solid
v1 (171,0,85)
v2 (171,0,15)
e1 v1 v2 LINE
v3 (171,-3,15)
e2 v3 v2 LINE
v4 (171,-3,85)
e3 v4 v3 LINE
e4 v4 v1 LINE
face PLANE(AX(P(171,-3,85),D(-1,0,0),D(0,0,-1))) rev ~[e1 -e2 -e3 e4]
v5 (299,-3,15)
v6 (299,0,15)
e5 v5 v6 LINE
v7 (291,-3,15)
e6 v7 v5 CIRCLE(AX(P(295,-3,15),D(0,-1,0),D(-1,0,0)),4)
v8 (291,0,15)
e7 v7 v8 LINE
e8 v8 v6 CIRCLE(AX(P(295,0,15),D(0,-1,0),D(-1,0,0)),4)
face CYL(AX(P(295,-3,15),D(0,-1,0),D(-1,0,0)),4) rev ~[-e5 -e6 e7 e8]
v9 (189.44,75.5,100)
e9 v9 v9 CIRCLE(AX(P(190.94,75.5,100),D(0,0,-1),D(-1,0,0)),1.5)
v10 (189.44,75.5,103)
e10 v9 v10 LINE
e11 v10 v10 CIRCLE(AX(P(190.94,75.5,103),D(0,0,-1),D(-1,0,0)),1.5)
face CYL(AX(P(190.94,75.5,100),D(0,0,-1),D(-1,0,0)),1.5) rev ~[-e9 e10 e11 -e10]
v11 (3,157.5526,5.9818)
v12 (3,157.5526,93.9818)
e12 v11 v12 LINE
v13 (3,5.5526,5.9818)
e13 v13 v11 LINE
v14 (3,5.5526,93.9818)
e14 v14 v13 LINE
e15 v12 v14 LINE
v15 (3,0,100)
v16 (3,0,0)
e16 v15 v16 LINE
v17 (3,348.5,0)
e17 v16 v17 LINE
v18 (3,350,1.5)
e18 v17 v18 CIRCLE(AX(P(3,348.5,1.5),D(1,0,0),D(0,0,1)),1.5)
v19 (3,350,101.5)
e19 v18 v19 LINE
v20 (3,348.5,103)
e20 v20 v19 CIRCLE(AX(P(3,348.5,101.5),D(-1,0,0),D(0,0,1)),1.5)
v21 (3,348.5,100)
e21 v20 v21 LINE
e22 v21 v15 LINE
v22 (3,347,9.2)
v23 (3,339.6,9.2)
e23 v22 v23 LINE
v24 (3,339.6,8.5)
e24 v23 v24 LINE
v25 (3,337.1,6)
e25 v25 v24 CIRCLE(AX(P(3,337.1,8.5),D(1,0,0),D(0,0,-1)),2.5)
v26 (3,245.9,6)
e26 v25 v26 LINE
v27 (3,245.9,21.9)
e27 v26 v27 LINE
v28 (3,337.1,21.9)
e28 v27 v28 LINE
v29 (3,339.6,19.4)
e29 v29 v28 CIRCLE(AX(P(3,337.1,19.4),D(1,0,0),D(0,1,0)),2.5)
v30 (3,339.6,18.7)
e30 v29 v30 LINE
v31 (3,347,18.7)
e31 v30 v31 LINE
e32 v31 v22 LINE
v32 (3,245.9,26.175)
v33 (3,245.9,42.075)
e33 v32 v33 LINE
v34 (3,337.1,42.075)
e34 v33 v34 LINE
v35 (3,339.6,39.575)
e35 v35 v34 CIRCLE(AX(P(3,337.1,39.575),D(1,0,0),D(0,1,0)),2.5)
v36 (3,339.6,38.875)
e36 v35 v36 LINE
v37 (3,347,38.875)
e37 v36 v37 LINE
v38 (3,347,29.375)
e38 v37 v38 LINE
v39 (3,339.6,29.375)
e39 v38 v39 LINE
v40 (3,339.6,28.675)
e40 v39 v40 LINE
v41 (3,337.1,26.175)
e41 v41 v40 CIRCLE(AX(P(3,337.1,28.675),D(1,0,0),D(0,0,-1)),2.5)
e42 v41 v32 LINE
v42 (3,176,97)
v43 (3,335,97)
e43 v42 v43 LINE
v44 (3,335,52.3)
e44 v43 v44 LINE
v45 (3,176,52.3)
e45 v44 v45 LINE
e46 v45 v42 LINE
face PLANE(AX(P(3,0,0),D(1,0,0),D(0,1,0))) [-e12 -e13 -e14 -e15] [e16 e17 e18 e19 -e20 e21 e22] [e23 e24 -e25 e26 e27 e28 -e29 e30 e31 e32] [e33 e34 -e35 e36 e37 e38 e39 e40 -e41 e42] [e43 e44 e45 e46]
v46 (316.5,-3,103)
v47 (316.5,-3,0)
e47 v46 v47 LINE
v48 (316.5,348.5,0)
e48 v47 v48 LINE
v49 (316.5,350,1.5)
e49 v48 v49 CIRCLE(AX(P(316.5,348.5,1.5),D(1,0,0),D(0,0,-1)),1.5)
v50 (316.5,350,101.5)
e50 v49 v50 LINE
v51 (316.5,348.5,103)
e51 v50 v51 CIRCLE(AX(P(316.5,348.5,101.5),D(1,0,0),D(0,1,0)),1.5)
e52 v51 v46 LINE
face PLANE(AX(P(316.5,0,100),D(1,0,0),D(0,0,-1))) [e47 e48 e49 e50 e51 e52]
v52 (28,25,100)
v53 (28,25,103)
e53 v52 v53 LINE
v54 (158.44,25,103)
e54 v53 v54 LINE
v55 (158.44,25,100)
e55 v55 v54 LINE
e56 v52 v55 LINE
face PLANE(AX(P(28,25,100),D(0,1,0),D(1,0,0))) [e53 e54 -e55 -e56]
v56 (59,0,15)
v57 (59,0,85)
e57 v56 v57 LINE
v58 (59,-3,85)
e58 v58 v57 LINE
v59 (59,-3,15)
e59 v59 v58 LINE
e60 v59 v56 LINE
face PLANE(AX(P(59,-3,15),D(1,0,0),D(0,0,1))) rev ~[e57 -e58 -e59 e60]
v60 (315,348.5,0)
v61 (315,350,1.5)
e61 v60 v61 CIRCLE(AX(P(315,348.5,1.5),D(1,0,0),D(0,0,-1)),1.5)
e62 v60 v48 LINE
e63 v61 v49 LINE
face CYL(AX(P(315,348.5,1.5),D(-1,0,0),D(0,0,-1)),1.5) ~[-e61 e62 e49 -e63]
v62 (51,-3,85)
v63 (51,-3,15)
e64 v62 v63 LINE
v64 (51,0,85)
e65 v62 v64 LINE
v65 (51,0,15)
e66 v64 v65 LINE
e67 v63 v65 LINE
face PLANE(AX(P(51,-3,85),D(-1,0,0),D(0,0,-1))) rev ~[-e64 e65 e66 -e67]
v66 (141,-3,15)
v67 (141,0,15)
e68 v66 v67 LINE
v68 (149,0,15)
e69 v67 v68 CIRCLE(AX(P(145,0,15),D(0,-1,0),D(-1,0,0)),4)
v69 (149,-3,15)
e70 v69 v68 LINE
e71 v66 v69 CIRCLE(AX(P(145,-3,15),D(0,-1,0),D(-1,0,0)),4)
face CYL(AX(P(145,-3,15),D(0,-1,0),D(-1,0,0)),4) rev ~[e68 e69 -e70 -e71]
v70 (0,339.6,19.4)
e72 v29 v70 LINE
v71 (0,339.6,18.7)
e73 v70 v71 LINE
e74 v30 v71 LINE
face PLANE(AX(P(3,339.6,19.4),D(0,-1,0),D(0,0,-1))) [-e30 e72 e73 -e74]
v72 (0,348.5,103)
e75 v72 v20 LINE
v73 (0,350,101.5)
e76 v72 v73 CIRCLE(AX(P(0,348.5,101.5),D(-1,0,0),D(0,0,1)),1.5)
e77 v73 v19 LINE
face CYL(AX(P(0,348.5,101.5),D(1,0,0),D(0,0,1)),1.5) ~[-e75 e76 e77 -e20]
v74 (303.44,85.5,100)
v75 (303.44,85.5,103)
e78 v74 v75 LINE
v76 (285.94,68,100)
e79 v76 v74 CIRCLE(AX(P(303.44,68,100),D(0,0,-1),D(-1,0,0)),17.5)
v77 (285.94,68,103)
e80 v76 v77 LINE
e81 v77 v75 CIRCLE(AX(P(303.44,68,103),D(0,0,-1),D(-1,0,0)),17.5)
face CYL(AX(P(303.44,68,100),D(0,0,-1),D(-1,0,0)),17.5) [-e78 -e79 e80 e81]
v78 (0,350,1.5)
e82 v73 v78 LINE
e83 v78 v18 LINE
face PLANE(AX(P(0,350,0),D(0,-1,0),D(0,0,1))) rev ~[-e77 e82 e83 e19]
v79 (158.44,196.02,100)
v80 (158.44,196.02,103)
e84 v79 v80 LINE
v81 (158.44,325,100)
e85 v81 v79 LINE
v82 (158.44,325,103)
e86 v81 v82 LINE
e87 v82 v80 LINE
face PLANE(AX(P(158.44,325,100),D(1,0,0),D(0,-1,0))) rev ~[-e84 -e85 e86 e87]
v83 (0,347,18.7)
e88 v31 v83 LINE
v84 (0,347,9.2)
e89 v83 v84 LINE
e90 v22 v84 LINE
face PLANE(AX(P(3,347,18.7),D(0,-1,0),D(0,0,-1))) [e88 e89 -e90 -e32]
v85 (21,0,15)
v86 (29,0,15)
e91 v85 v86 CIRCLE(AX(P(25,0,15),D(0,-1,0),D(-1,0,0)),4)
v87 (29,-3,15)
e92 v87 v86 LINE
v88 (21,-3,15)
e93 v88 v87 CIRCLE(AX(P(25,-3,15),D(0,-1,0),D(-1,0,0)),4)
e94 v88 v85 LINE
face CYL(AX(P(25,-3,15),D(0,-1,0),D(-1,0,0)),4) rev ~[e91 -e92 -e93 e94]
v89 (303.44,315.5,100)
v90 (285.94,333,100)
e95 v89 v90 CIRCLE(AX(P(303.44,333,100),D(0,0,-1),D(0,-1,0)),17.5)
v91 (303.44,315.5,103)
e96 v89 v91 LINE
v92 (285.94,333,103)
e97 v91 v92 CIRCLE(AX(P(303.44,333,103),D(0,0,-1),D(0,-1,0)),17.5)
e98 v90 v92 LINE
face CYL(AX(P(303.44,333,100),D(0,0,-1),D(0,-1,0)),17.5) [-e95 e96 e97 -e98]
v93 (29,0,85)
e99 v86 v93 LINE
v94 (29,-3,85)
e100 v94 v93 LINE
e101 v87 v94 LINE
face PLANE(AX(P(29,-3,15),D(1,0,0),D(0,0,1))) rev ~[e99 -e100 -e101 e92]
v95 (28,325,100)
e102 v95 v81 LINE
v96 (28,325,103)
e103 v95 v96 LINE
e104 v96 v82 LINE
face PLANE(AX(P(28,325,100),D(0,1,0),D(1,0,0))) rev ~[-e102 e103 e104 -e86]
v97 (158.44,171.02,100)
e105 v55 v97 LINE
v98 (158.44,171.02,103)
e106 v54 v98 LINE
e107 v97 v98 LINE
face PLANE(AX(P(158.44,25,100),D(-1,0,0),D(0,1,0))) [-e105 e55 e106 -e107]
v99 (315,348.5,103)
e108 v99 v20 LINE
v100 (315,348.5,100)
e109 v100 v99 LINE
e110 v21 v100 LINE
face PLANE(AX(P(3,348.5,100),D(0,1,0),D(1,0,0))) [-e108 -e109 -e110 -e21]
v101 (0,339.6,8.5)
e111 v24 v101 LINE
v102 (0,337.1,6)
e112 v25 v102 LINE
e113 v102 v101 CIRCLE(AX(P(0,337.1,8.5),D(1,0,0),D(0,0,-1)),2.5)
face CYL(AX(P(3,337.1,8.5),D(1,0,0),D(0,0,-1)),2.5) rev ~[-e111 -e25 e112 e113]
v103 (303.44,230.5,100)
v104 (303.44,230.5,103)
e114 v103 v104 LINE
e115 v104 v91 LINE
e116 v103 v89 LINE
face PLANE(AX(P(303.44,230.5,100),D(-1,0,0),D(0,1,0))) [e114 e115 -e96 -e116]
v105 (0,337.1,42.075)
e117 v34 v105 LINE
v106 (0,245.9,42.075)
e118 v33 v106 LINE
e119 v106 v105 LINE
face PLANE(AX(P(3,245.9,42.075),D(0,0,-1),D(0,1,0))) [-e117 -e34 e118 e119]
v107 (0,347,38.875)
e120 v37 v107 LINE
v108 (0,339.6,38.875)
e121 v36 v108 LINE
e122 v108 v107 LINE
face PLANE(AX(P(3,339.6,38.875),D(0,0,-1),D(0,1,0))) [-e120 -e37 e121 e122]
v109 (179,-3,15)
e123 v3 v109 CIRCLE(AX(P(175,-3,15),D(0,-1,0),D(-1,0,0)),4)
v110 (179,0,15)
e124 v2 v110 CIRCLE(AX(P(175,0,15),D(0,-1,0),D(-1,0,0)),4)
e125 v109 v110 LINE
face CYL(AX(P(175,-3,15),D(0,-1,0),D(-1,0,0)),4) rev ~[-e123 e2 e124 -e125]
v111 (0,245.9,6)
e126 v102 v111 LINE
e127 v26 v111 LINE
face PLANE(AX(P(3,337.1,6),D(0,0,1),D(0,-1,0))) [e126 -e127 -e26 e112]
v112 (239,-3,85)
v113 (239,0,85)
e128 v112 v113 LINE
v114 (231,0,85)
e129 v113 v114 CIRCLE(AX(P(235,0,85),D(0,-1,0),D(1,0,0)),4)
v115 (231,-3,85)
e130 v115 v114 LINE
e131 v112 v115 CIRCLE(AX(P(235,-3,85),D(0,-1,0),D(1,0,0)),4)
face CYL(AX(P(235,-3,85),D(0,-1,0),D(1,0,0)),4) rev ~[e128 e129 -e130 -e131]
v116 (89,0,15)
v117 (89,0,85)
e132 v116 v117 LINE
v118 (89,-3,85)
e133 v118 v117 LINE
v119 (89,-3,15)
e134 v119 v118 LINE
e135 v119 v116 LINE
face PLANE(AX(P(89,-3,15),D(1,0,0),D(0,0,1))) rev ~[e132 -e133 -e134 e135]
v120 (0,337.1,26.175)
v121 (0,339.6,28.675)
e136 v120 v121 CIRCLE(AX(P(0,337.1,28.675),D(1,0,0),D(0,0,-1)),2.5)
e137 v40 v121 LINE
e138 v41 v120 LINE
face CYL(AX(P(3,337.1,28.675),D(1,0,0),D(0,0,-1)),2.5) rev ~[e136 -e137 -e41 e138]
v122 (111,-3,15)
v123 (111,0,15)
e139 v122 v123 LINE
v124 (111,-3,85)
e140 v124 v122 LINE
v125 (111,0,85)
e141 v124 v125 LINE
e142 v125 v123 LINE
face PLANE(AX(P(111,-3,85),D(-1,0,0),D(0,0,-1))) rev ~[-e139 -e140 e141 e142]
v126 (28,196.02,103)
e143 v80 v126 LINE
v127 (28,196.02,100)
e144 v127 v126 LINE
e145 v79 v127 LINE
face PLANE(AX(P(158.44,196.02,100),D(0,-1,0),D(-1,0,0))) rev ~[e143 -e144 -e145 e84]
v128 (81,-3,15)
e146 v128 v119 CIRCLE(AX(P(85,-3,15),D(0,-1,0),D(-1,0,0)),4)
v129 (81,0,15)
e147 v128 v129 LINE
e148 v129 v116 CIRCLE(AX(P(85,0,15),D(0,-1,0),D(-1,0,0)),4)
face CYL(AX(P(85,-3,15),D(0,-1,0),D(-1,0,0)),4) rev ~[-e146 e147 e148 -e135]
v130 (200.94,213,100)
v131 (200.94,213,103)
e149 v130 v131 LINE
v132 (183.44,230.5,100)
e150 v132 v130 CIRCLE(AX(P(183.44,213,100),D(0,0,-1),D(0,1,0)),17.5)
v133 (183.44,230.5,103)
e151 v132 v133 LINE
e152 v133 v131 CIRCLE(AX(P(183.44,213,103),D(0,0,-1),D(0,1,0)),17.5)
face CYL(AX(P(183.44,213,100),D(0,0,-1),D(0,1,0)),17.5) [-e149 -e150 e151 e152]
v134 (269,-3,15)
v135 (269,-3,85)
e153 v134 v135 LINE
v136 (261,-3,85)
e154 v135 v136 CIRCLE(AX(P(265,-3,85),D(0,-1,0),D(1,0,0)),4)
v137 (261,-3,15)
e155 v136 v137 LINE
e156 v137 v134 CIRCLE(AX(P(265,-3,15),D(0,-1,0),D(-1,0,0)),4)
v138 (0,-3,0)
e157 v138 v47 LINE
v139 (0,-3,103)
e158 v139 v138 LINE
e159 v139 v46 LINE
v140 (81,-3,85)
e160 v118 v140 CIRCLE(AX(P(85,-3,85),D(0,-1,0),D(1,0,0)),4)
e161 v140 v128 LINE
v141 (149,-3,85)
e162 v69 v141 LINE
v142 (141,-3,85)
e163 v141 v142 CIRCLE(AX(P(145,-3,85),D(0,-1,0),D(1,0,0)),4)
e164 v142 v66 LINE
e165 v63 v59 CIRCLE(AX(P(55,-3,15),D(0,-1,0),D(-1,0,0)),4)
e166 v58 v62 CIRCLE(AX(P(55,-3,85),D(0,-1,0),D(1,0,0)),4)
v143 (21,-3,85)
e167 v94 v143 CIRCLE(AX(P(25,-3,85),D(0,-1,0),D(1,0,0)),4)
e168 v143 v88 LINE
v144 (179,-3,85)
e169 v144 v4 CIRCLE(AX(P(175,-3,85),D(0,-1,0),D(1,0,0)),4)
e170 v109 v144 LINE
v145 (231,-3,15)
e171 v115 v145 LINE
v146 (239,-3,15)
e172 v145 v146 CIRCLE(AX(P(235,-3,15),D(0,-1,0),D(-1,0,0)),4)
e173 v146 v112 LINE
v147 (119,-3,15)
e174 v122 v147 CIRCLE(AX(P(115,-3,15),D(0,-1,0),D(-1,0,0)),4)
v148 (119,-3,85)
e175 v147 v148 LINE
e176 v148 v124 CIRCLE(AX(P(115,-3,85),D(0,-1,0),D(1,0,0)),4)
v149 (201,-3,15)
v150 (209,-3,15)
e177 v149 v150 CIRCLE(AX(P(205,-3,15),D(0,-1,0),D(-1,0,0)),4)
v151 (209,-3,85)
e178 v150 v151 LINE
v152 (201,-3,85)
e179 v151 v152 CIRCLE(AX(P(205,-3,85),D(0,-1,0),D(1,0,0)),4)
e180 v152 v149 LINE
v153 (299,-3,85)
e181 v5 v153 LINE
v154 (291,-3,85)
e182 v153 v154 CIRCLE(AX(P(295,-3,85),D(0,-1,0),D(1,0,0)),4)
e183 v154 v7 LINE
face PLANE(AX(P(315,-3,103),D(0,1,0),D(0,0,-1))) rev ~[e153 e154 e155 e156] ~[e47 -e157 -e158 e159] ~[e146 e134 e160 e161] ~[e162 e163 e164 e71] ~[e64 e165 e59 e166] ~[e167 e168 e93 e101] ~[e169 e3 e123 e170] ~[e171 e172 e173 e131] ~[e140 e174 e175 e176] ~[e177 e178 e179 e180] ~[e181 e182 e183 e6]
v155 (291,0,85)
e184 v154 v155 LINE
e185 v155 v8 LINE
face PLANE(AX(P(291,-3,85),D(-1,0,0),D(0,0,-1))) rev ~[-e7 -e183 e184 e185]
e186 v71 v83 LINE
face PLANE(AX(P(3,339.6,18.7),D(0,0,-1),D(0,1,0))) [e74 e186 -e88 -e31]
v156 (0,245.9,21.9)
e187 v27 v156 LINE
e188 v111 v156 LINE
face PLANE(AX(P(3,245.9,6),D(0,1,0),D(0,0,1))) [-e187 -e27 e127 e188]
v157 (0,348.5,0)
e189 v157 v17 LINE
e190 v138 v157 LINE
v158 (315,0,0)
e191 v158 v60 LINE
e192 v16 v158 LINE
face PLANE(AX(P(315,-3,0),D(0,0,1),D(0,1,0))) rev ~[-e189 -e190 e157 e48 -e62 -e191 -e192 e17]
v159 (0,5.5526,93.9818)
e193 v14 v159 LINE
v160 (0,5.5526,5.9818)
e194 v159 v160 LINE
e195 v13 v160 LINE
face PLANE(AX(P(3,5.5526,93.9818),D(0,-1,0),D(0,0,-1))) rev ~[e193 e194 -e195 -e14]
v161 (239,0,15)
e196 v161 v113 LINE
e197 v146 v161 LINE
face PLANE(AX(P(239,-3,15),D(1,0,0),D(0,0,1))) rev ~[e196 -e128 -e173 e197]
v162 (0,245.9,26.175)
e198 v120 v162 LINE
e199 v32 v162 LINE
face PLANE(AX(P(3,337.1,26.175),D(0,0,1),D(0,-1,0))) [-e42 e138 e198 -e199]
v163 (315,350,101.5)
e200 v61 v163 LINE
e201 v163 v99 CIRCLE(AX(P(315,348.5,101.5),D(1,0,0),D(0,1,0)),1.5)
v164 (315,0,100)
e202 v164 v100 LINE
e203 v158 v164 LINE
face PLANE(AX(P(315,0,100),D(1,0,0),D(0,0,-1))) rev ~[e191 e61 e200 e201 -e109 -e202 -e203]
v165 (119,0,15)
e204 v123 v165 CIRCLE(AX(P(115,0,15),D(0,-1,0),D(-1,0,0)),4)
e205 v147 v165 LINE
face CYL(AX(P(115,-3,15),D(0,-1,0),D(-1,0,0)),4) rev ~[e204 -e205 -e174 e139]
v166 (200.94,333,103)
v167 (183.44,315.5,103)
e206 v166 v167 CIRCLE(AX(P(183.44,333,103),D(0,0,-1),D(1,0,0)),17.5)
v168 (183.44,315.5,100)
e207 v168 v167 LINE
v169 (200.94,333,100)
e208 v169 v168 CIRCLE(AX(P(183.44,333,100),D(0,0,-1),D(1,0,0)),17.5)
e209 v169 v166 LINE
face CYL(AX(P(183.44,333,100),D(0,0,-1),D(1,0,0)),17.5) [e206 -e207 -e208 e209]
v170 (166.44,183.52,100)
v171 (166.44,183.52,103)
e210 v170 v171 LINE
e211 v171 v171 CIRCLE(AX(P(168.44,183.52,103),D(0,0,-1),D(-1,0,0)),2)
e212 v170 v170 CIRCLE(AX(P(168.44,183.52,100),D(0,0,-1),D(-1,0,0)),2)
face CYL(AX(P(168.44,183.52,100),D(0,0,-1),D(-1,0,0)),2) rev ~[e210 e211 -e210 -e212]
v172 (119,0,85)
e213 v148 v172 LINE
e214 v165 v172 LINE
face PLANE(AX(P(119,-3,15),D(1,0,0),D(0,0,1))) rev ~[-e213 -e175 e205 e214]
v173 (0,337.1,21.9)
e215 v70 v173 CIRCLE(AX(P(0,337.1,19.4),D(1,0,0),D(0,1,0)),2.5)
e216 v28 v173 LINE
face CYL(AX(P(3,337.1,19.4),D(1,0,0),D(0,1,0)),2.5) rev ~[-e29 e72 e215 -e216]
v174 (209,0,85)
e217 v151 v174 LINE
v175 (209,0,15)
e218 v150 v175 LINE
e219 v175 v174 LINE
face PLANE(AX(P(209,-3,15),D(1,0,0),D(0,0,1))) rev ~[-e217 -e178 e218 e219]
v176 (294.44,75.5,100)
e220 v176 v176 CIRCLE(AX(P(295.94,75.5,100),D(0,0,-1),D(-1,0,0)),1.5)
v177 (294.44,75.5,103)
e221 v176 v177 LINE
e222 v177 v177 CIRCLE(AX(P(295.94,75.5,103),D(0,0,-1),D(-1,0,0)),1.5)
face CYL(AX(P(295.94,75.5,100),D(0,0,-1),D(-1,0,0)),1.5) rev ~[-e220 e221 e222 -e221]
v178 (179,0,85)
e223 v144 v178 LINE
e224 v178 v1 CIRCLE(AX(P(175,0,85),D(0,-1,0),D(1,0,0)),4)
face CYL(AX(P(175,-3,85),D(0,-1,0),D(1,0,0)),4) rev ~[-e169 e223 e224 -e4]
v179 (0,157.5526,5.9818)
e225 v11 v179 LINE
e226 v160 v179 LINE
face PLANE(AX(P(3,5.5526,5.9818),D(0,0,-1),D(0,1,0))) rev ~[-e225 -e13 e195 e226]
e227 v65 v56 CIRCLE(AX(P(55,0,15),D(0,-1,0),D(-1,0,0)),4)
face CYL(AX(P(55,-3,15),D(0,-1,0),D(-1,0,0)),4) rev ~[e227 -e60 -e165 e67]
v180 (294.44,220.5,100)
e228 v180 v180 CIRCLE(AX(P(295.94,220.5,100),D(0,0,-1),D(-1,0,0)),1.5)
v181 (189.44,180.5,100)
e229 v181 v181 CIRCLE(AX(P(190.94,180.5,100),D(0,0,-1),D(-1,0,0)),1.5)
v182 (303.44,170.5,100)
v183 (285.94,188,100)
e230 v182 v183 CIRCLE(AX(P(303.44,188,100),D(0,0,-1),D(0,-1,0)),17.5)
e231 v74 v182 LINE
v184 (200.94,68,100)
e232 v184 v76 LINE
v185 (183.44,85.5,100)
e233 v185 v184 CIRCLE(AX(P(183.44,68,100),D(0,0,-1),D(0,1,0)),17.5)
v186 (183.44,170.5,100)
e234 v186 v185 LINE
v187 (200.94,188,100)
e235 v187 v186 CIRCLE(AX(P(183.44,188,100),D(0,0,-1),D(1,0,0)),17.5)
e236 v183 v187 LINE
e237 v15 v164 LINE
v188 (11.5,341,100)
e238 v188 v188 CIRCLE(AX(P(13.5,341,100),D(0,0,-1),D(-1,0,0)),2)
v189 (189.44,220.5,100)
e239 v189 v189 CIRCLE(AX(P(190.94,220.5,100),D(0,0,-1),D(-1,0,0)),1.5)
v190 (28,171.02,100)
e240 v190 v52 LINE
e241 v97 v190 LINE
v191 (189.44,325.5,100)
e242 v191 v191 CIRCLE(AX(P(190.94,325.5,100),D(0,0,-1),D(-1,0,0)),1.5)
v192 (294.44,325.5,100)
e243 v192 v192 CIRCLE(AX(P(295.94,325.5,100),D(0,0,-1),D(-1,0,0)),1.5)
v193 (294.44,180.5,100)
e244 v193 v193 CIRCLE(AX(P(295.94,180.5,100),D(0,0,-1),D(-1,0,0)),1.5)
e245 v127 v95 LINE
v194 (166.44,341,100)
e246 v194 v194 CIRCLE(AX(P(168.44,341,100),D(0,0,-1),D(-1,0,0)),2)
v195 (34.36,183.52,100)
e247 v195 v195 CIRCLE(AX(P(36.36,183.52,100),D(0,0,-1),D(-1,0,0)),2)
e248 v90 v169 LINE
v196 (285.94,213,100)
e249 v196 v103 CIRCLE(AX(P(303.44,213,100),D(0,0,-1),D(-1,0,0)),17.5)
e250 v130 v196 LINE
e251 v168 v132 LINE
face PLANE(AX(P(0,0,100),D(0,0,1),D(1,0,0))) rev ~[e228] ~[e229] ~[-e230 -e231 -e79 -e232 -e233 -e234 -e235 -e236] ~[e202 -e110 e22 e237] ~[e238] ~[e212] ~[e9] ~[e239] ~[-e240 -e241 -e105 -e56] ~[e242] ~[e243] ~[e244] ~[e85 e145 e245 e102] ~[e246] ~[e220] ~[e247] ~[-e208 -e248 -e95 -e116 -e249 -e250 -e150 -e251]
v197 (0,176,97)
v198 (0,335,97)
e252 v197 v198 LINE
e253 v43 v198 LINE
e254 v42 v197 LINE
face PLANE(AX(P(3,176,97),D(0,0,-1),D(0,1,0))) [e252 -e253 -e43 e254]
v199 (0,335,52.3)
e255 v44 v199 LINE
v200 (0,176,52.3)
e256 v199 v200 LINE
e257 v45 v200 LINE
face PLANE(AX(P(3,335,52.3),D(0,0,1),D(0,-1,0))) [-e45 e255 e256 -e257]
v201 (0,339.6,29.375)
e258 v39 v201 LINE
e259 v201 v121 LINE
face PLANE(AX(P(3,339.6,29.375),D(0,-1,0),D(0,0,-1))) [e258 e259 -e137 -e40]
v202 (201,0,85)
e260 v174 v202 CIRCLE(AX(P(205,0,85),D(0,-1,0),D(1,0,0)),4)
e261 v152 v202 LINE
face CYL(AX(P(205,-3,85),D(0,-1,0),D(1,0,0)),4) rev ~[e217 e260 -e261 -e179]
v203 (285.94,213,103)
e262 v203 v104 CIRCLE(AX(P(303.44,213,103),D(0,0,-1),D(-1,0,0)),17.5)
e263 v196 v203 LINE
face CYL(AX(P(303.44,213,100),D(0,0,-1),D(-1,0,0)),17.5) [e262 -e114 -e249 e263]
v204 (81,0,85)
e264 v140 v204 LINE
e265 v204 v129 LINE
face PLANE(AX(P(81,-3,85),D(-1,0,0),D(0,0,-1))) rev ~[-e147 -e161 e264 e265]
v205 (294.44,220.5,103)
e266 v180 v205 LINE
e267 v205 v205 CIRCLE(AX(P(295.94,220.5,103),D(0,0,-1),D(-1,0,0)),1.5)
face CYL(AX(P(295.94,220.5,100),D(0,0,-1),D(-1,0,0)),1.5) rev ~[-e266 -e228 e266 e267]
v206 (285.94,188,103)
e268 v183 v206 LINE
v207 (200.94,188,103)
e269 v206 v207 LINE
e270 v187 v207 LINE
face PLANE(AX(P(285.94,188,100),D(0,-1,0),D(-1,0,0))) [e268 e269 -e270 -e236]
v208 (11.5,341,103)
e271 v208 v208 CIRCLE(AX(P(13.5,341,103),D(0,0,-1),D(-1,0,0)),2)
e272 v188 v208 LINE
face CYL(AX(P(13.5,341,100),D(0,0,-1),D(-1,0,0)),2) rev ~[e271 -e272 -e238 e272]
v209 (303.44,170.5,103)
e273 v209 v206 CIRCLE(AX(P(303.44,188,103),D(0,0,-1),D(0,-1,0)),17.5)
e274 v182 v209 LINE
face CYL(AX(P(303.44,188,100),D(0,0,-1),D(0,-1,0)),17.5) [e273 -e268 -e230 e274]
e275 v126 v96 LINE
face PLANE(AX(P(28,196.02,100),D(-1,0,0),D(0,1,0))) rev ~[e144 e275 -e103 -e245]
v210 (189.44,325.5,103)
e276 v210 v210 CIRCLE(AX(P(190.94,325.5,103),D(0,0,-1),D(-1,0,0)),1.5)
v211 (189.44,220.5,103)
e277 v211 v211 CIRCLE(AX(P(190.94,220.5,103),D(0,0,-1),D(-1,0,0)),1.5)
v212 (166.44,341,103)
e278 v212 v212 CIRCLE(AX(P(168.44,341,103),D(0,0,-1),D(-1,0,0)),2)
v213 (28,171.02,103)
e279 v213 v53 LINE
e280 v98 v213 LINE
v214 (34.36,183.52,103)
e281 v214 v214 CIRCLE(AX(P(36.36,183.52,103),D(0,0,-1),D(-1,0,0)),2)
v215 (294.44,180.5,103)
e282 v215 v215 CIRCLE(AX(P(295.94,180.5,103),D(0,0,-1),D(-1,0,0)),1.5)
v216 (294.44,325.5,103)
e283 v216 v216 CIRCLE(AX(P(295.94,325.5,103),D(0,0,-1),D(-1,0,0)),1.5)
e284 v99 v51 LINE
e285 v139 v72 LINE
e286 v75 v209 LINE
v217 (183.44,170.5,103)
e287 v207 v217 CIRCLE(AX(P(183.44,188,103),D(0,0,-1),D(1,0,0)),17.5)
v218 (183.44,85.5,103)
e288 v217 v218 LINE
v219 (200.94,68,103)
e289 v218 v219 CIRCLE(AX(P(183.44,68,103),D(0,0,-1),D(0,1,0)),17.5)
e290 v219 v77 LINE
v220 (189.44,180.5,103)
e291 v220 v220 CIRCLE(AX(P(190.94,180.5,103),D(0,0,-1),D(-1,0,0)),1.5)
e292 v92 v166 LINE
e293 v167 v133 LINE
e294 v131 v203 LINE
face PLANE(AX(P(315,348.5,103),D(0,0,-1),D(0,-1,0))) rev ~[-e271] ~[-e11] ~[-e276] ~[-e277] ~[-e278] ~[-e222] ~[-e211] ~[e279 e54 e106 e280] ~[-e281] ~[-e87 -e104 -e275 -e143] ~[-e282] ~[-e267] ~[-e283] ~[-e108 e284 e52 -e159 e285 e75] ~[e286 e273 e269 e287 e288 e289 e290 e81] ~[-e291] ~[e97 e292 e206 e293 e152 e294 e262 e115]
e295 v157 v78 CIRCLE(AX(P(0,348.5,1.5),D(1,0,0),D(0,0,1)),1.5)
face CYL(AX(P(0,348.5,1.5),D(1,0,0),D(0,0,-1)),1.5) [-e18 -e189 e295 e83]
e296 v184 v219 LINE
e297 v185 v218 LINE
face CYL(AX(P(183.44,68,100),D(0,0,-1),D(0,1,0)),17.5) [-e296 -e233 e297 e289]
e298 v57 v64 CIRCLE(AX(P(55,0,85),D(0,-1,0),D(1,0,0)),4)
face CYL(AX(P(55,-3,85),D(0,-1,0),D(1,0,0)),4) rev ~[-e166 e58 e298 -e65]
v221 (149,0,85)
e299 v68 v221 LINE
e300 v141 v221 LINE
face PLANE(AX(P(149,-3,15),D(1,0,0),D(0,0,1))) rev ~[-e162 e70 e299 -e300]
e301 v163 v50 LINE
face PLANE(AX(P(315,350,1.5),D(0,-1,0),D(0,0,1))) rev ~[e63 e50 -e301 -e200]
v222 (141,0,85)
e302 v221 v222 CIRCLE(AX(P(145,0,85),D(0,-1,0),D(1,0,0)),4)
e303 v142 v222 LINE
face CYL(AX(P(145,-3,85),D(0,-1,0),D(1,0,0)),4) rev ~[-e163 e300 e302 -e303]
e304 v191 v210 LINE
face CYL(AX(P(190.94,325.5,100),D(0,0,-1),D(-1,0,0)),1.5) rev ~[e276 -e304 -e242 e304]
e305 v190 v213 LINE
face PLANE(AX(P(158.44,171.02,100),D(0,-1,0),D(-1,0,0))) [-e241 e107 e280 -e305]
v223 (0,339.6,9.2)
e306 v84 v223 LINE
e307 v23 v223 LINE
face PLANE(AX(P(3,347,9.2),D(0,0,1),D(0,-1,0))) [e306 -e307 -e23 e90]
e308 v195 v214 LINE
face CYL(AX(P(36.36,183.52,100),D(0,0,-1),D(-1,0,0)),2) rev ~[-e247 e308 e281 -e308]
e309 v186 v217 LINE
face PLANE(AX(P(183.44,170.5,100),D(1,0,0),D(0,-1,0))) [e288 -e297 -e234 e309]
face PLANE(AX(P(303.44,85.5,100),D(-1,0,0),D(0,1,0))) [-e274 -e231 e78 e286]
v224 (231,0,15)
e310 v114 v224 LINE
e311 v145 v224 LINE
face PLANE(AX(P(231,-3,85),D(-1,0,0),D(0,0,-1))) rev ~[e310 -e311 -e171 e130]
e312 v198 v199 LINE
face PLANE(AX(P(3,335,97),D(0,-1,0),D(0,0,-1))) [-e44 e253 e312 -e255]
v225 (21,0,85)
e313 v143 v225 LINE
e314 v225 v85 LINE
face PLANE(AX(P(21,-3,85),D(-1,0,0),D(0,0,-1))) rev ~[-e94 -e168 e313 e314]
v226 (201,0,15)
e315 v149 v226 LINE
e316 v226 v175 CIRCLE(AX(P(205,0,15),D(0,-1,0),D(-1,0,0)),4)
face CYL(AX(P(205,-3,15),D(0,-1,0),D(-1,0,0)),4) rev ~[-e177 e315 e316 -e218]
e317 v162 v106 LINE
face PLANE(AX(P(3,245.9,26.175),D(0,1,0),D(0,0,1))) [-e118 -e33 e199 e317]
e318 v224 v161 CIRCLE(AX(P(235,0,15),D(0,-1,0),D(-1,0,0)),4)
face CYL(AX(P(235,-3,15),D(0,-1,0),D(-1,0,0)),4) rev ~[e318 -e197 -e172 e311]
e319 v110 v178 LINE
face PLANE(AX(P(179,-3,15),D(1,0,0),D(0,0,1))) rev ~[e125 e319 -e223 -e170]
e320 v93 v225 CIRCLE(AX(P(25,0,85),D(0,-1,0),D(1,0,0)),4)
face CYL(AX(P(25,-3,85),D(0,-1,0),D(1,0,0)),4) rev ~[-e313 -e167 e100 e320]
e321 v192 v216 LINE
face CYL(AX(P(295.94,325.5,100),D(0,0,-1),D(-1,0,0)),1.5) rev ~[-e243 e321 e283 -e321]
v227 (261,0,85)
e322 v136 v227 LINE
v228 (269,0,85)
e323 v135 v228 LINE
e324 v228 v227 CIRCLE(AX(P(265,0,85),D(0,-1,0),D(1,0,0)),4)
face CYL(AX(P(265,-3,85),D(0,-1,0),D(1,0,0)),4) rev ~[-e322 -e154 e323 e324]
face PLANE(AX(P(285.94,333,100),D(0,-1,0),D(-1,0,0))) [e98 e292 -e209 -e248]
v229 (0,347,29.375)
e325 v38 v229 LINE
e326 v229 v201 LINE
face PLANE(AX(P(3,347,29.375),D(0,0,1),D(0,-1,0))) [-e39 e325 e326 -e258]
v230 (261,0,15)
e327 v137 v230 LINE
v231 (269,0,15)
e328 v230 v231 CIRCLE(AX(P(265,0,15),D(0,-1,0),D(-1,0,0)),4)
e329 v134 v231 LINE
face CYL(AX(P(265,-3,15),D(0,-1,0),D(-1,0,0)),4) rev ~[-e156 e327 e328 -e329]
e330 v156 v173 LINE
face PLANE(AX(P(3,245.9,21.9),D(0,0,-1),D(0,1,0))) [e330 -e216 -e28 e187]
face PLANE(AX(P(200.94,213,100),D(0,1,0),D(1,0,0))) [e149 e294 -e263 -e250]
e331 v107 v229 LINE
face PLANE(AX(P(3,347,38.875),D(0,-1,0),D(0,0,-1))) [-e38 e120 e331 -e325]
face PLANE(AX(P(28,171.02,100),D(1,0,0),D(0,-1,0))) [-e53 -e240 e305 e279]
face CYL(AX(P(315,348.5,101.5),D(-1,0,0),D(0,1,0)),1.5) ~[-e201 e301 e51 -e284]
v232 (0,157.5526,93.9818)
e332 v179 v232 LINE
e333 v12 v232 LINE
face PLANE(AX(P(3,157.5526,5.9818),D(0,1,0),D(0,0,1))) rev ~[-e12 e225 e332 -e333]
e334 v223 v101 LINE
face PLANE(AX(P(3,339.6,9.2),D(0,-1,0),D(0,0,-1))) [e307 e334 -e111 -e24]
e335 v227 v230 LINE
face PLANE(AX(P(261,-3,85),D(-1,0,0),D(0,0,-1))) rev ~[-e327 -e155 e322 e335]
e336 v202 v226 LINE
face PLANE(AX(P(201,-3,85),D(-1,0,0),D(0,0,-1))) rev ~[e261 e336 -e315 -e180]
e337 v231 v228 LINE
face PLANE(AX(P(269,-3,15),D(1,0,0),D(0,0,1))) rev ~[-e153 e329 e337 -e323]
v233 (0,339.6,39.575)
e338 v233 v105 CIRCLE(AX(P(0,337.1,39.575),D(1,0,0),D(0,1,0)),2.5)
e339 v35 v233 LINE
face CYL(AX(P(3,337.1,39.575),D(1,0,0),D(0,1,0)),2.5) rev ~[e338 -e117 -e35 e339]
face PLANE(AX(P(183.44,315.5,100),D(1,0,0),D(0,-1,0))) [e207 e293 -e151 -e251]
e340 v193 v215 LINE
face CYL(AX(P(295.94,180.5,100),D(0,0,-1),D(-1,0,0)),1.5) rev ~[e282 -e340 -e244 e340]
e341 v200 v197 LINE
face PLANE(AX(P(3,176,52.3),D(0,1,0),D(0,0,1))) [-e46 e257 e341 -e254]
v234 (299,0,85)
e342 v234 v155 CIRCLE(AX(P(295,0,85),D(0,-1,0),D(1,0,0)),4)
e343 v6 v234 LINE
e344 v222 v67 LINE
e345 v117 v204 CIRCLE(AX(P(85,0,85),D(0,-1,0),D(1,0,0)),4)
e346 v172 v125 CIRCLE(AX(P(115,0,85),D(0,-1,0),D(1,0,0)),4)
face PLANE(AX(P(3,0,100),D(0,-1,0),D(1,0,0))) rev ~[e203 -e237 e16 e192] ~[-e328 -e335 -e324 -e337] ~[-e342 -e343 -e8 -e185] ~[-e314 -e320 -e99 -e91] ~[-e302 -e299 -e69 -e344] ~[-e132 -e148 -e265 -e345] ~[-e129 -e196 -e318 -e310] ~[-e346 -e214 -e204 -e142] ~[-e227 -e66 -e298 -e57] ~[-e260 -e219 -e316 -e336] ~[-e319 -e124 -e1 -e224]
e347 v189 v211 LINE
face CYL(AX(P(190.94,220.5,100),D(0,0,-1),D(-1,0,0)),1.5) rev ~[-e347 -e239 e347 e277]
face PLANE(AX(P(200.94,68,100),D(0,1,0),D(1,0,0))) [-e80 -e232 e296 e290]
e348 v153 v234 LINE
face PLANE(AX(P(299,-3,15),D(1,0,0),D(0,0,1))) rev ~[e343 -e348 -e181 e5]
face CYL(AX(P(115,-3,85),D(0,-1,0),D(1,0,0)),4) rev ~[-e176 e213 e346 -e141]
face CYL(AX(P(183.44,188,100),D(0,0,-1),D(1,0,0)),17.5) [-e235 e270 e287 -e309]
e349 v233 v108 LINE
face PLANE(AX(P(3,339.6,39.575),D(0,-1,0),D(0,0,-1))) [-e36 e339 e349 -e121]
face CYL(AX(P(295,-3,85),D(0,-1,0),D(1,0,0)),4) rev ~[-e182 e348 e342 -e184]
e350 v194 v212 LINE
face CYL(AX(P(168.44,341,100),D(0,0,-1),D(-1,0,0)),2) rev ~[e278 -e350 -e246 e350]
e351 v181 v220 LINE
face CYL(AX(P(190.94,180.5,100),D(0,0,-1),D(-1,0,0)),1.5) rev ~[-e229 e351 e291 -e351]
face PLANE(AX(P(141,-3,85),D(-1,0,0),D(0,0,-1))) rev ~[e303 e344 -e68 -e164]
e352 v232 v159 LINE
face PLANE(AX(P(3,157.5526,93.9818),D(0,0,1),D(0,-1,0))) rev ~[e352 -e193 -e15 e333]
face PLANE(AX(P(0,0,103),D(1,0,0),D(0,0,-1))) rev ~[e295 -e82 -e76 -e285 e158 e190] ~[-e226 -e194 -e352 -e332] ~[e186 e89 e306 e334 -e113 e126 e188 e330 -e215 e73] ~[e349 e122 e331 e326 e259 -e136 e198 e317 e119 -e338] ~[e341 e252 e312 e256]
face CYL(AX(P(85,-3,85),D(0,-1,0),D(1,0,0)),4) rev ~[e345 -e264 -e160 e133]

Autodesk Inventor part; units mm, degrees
ref_plane "YZ Plane" through (0, 0, 0) normal (1, 0, 0) x (0, 1, 0)
ref_plane "XZ Plane" through (0, 0, 0) normal (0, 1, 0) x (-1, 0, 0)
ref_plane "XY Plane" through (0, 0, 0) normal (0, 0, 1) x (1, 0, 0)
sketch "Sketch1" plane through (0, 0, 0) normal (1, 0, 0) x (0, 1, 0)
  line L0 (0, 0) -> (350, 0)
  line L1 (350, 0) -> (350, 100)
  line L2 (350, 100) -> (0, 100)
  line L3 (0, 100) -> (0, 0)
  dimension "d0" = 100
  dimension "d1" = 350
extrude "Extrusion1" add sketch "Sketch1" along normal blind 3
sketch "Sketch2" plane through (3, 0, 0) normal (1, 0, 0) x (0, 0, -1)
  line L0 (-97, 335) -> (-52.3, 335)
  line L1 (-52.3, 335) -> (-52.3, 176)
  line L2 (-52.3, 176) -> (-97, 176)
  line L3 (-97, 176) -> (-97, 335)
  line L4 (-6, 337.1) -> (-6, 245.9)
  line L5 (-6, 245.9) -> (-21.9, 245.9)
  line L6 (-21.9, 245.9) -> (-21.9, 337.1)
  line L7 (-18.7, 339.6) -> (-18.7, 347)
  line L8 (-18.7, 347) -> (-9.2, 347)
  line L9 (-9.2, 347) -> (-9.2, 339.6)
  line L10 (-19.4, 339.6) -> (-18.7, 339.6)
  line L11 (-9.2, 339.6) -> (-8.5, 339.6)
  arc A0 (-19.4, 339.6) -> (-21.9, 337.1) centre (-19.4, 337.1) ccw
  arc A1 (-6, 337.1) -> (-8.5, 339.6) centre (-8.5, 337.1) ccw
  line L12 (-93.9818, 5.5526) -> (-5.9818, 5.5526)
  line L13 (-5.9818, 5.5526) -> (-5.9818, 157.5526)
  line L14 (-5.9818, 157.5526) -> (-93.9818, 157.5526)
  line L15 (-93.9818, 157.5526) -> (-93.9818, 5.5526)
  line L16 (-26.175, 337.1) -> (-26.175, 245.9)
  line L17 (-26.175, 245.9) -> (-42.075, 245.9)
  line L18 (-42.075, 245.9) -> (-42.075, 337.1)
  line L19 (-38.875, 339.6) -> (-38.875, 347)
  line L20 (-38.875, 347) -> (-29.375, 347)
  line L21 (-29.375, 347) -> (-29.375, 339.6)
  line L22 (-39.575, 339.6) -> (-38.875, 339.6)
  line L23 (-29.375, 339.6) -> (-28.675, 339.6)
  arc A2 (-39.575, 339.6) -> (-42.075, 337.1) centre (-39.575, 337.1) ccw
  arc A3 (-26.175, 337.1) -> (-28.675, 339.6) centre (-28.675, 337.1) ccw
  line L24 (0, 350) -> (-100, 350) projected
  line L25 (0, 0) -> (0, 350) projected
  line L26 (-100, 350) -> (-100, 0) projected
  point P0 (-55.4956, 335.3765)
  dimension "d4" = 2.5
  dimension "d5" = 9.5
  dimension "d6" = 15.9
  dimension "d7" = 93.7
  dimension "d8" = 101.1
  dimension "d9" = 44.7
  dimension "d10" = 159
  dimension "d11" = 88
  dimension "d12" = 152
  dimension "d15" = 2.5
  dimension "d16" = 9.5
  dimension "d17" = 15.9
  dimension "d18" = 93.7
  dimension "d19" = 101.1
  dimension "d21" = 3
  dimension "d22" = 6
  dimension "d23" = 15
  dimension "d24" = 3
  dimension "d25" = 20.175
extrude "Extrusion2" cut sketch "Sketch2" against normal through all
sketch "Sketch3" plane through (0, 0, 100) normal (0, 0, 1) x (1, 0, 0)
  line L0 (0, 0) -> (315, 0)
  line L1 (315, 0) -> (315, 350)
  line L2 (0, 350) -> (3, 350) projected
  line L3 (315, 350) -> (3, 350)
  line L4 (3, 350) -> (0, 350)
  line L5 (3, 0) -> (3, 350) projected
  line L6 (0, 350) -> (3, 350)
  line L7 (0, 350) -> (0, 0)
  dimension "d26" = 315
extrude "Extrusion3" add sketch "Sketch3" along normal blind 3
sketch "Sketch4" plane through (3, 0, 100) normal (0, -1, 0) x (1, 0, 0)
  line L0 (312, 0) -> (312, 3) projected
  line L1 (-3, -100) -> (312, -100)
  line L2 (312, -100) -> (312, 3)
  line L3 (312, 3) -> (-3, 3)
  line L4 (-3, 3) -> (-3, -100)
extrude "Extrusion4" add sketch "Sketch4" along normal blind 3
sketch "Sketch5" plane through (0, 0, 100) normal (0, 0, -1) x (-1, 0, 0)
  line L0 (-168.44, 341) -> (-13.5, 341) construction
  line L1 (-13.5, 341) -> (-13.5, 183.52) construction
  line L2 (-13.5, 183.52) -> (-168.44, 183.52) construction
  line L3 (-168.44, 183.52) -> (-168.44, 341) construction
  circle A0 centre (-13.5, 341) radius 2
  circle A1 centre (-168.44, 341) radius 2
  circle A2 centre (-168.44, 183.52) radius 2
  circle A3 centre (-36.36, 183.52) radius 2
  line L4 (-3, 0) -> (-3, 350) projected
  line L5 (-315, 350) -> (-3, 350) projected
  point P0 (0, 0)
  dimension "d31" = 157.48
  dimension "d32" = 154.94
  dimension "d33" = 22.86
  dimension "d34" = 4
  dimension "d35" = 10.5
  dimension "d36" = 9
extrude "Extrusion5" cut sketch "Sketch5" against normal through all
sketch "Sketch6" plane through (0, 0, 100) normal (0, 0, -1) x (-1, 0, 0)
  line L0 (-303.44, 333) -> (-183.44, 333)
  line L1 (-183.44, 333) -> (-183.44, 213)
  line L2 (-183.44, 213) -> (-303.44, 213)
  line L3 (-303.44, 213) -> (-303.44, 333)
  line L4 (-190.94, 325.5) -> (-295.94, 325.5) construction
  line L5 (-295.94, 325.5) -> (-295.94, 220.5) construction
  line L6 (-295.94, 220.5) -> (-190.94, 220.5) construction
  line L7 (-190.94, 220.5) -> (-190.94, 325.5) construction
  circle A0 centre (-295.94, 325.5) radius 1.5
  circle A1 centre (-190.94, 325.5) radius 1.5
  circle A2 centre (-190.94, 220.5) radius 1.5
  circle A3 centre (-295.94, 220.5) radius 1.5
  arc A4 (-303.44, 315.5) -> (-285.94, 333) centre (-303.44, 333) ccw
  arc A5 (-200.94, 333) -> (-183.44, 315.5) centre (-183.44, 333) ccw
  arc A6 (-183.44, 230.5) -> (-200.94, 213) centre (-183.44, 213) ccw
  arc A7 (-285.94, 213) -> (-303.44, 230.5) centre (-303.44, 213) ccw
  circle A8 centre (-168.44, 341) radius 2 projected
  line L8 (-315, 350) -> (-3, 350) projected
  line L9 (-303.44, 188) -> (-183.44, 188)
  line L10 (-183.44, 188) -> (-183.44, 68)
  line L11 (-183.44, 68) -> (-303.44, 68)
  line L12 (-303.44, 68) -> (-303.44, 188)
  line L13 (-190.94, 180.5) -> (-295.94, 180.5) construction
  line L14 (-295.94, 180.5) -> (-295.94, 75.5) construction
  line L15 (-295.94, 75.5) -> (-190.94, 75.5) construction
  line L16 (-190.94, 75.5) -> (-190.94, 180.5) construction
  circle A9 centre (-295.94, 180.5) radius 1.5
  circle A10 centre (-190.94, 180.5) radius 1.5
  circle A11 centre (-190.94, 75.5) radius 1.5
  circle A12 centre (-295.94, 75.5) radius 1.5
  arc A13 (-303.44, 170.5) -> (-285.94, 188) centre (-303.44, 188) ccw
  arc A14 (-200.94, 188) -> (-183.44, 170.5) centre (-183.44, 188) ccw
  arc A15 (-183.44, 85.5) -> (-200.94, 68) centre (-183.44, 68) ccw
  arc A16 (-285.94, 68) -> (-303.44, 85.5) centre (-303.44, 68) ccw
  line L17 (0, -3) -> (0, 350) projected
  point P0 (0, 0)
  point P1 (-329, 351)
  dimension "d39" = 105
  dimension "d40" = 120
  dimension "d41" = 105
  dimension "d42" = 3
  dimension "d43" = 35
  dimension "d46" = 15
  dimension "d47" = 17
  dimension "d48" = 105
  dimension "d49" = 120
  dimension "d50" = 105
  dimension "d51" = 3
  dimension "d52" = 35
  dimension "d53" = 25
  dimension "d63" = 183.44
  dimension "d64" = 265
extrude "Extrusion6" cut sketch "Sketch6" against normal through all contours L0 A5 L1 A6 L2 A7 L3 A4 | A0 | A1 | A2 | A3 | L9 A14 L10 A15 L11 A16 L12 A13 | A9 | A10 | A11 | A12
sketch "Sketch7" plane through (0, 0, 100) normal (0, 0, -1) x (-1, 0, 0)
  line L0 (-28, 325) -> (-158.44, 325)
  line L1 (-158.44, 325) -> (-158.44, 196.02)
  line L2 (-158.44, 196.02) -> (-28, 196.02)
  line L3 (-28, 196.02) -> (-28, 325)
  line L4 (-158.44, 171.02) -> (-28, 171.02)
  line L5 (-28, 171.02) -> (-28, 25)
  line L6 (-28, 25) -> (-158.44, 25)
  line L7 (-158.44, 25) -> (-158.44, 171.02)
  line L8 (-3, 0) -> (-3, 350) projected
  line L9 (-183.44, 315.5) -> (-183.44, 230.5) projected
  line L10 (-183.44, 170.5) -> (-183.44, 85.5) projected
  line L11 (-315, 350) -> (-3, 350) projected
  circle A0 centre (-36.36, 183.52) radius 2 projected
  line L12 (-3, 0) -> (-315, 0) projected
  point P0 (0, 0)
  dimension "d54" = 25
  dimension "d55" = 25
  dimension "d56" = 25
  dimension "d57" = 25
  dimension "d58" = 25
  dimension "d59" = 12.5
  dimension "d60" = 25
extrude "Extrusion7" cut sketch "Sketch7" against normal through all contours L3 L2 L1 L0 | L4 L5 L6 L7
sketch "Sketch8" plane through (3, 350, 100) normal (0, 1, 0) x (1, 0, 0)
  line L0 (0, 100) -> (0, 0) projected
  line L1 (312, 0) -> (312, -3) projected
  line L2 (0, 0) -> (312, 0)
  line L3 (312, 0) -> (312, -3)
  line L4 (312, -3) -> (0, -3)
  line L5 (0, -3) -> (0, 0)
  point P0 (-3, 100)
extrude "Extrusion8" cut sketch "Sketch8" against normal blind 1.5
fillet "Fillet1" radius 1.5 2 edges at (1.5, 350, 103) (1.5, 350, 0)
sketch "Sketch9" plane through (315, 0, 100) normal (1, 0, 0) x (0, 0, -1)
  line L0 (-3, -3) -> (100, -3) projected
  line L1 (-3, -3) -> (100, -3)
  line L2 (100, -3) -> (100, 348.5)
  line L3 (98.5, 350) -> (-1.5, 350)
  line L4 (-3, 348.5) -> (-3, -3)
  line L5 (98.5, 350) -> (-1.5, 350) projected
  line L6 (100, 0) -> (100, 348.5) projected
  arc A0 (100, 348.5) -> (98.5, 350) centre (98.5, 348.5) ccw projected
  arc A1 (-1.5, 350) -> (-3, 348.5) centre (-1.5, 348.5) ccw projected
extrude "Extrusion9" add sketch "Sketch9" along normal blind 1.5
sketch "Sketch10" plane through (3, -3, 100) normal (0, -1, 0) x (1, 0, 0)
  line L0 (292, -85) -> (292, -15) construction
  line L1 (296, -85) -> (296, -15)
  line L2 (288, -15) -> (288, -85)
  arc A0 (288, -85) -> (296, -85) centre (292, -85) ccw
  arc A1 (296, -15) -> (288, -15) centre (292, -15) ccw
  line L3 (-3, -100) -> (313.5, -100) projected
  line L4 (197.94, 0) -> (282.94, 0) projected
  line L5 (312, -100) -> (312, 0) projected
  line L6 (262, -85) -> (262, -15) construction
  line L7 (266, -85) -> (266, -15)
  line L8 (258, -15) -> (258, -85)
  arc A2 (258, -85) -> (266, -85) centre (262, -85) ccw
  arc A3 (266, -15) -> (258, -15) centre (262, -15) ccw
  line L9 (232, -85) -> (232, -15) construction
  line L10 (236, -85) -> (236, -15)
  line L11 (228, -15) -> (228, -85)
  arc A4 (228, -85) -> (236, -85) centre (232, -85) ccw
  arc A5 (236, -15) -> (228, -15) centre (232, -15) ccw
  line L12 (202, -85) -> (202, -15) construction
  line L13 (206, -85) -> (206, -15)
  line L14 (198, -15) -> (198, -85)
  arc A6 (198, -85) -> (206, -85) centre (202, -85) ccw
  arc A7 (206, -15) -> (198, -15) centre (202, -15) ccw
  line L15 (172, -85) -> (172, -15) construction
  line L16 (176, -85) -> (176, -15)
  line L17 (168, -15) -> (168, -85)
  arc A8 (168, -85) -> (176, -85) centre (172, -85) ccw
  arc A9 (176, -15) -> (168, -15) centre (172, -15) ccw
  line L18 (142, -85) -> (142, -15) construction
  line L19 (146, -85) -> (146, -15)
  line L20 (138, -15) -> (138, -85)
  arc A10 (138, -85) -> (146, -85) centre (142, -85) ccw
  arc A11 (146, -15) -> (138, -15) centre (142, -15) ccw
  line L21 (112, -85) -> (112, -15) construction
  line L22 (116, -85) -> (116, -15)
  line L23 (108, -15) -> (108, -85)
  arc A12 (108, -85) -> (116, -85) centre (112, -85) ccw
  arc A13 (116, -15) -> (108, -15) centre (112, -15) ccw
  line L24 (82, -85) -> (82, -15) construction
  line L25 (86, -85) -> (86, -15)
  line L26 (78, -15) -> (78, -85)
  arc A14 (78, -85) -> (86, -85) centre (82, -85) ccw
  arc A15 (86, -15) -> (78, -15) centre (82, -15) ccw
  line L27 (52, -85) -> (52, -15) construction
  line L28 (56, -85) -> (56, -15)
  line L29 (48, -15) -> (48, -85)
  arc A16 (48, -85) -> (56, -85) centre (52, -85) ccw
  arc A17 (56, -15) -> (48, -15) centre (52, -15) ccw
  line L30 (22, -85) -> (22, -15) construction
  line L31 (26, -85) -> (26, -15)
  line L32 (18, -15) -> (18, -85)
  arc A18 (18, -85) -> (26, -85) centre (22, -85) ccw
  arc A19 (26, -15) -> (18, -15) centre (22, -15) ccw
  point P0 (292, -50)
  point P1 (262, -50)
  point P2 (232, -50)
  point P3 (202, -50)
  point P4 (172, -50)
  point P5 (142, -50)
  point P6 (112, -50)
  point P7 (82, -50)
  point P8 (52, -50)
  point P9 (22, -50)
  dimension "d70" = 15
  dimension "d71" = 15
  dimension "d72" = 8
  dimension "d73" = 20
  dimension "d76" = 30
extrude "Extrusion10" cut sketch "Sketch10" against normal up to surface (3 mm away)
properties part number "BackPlate"
